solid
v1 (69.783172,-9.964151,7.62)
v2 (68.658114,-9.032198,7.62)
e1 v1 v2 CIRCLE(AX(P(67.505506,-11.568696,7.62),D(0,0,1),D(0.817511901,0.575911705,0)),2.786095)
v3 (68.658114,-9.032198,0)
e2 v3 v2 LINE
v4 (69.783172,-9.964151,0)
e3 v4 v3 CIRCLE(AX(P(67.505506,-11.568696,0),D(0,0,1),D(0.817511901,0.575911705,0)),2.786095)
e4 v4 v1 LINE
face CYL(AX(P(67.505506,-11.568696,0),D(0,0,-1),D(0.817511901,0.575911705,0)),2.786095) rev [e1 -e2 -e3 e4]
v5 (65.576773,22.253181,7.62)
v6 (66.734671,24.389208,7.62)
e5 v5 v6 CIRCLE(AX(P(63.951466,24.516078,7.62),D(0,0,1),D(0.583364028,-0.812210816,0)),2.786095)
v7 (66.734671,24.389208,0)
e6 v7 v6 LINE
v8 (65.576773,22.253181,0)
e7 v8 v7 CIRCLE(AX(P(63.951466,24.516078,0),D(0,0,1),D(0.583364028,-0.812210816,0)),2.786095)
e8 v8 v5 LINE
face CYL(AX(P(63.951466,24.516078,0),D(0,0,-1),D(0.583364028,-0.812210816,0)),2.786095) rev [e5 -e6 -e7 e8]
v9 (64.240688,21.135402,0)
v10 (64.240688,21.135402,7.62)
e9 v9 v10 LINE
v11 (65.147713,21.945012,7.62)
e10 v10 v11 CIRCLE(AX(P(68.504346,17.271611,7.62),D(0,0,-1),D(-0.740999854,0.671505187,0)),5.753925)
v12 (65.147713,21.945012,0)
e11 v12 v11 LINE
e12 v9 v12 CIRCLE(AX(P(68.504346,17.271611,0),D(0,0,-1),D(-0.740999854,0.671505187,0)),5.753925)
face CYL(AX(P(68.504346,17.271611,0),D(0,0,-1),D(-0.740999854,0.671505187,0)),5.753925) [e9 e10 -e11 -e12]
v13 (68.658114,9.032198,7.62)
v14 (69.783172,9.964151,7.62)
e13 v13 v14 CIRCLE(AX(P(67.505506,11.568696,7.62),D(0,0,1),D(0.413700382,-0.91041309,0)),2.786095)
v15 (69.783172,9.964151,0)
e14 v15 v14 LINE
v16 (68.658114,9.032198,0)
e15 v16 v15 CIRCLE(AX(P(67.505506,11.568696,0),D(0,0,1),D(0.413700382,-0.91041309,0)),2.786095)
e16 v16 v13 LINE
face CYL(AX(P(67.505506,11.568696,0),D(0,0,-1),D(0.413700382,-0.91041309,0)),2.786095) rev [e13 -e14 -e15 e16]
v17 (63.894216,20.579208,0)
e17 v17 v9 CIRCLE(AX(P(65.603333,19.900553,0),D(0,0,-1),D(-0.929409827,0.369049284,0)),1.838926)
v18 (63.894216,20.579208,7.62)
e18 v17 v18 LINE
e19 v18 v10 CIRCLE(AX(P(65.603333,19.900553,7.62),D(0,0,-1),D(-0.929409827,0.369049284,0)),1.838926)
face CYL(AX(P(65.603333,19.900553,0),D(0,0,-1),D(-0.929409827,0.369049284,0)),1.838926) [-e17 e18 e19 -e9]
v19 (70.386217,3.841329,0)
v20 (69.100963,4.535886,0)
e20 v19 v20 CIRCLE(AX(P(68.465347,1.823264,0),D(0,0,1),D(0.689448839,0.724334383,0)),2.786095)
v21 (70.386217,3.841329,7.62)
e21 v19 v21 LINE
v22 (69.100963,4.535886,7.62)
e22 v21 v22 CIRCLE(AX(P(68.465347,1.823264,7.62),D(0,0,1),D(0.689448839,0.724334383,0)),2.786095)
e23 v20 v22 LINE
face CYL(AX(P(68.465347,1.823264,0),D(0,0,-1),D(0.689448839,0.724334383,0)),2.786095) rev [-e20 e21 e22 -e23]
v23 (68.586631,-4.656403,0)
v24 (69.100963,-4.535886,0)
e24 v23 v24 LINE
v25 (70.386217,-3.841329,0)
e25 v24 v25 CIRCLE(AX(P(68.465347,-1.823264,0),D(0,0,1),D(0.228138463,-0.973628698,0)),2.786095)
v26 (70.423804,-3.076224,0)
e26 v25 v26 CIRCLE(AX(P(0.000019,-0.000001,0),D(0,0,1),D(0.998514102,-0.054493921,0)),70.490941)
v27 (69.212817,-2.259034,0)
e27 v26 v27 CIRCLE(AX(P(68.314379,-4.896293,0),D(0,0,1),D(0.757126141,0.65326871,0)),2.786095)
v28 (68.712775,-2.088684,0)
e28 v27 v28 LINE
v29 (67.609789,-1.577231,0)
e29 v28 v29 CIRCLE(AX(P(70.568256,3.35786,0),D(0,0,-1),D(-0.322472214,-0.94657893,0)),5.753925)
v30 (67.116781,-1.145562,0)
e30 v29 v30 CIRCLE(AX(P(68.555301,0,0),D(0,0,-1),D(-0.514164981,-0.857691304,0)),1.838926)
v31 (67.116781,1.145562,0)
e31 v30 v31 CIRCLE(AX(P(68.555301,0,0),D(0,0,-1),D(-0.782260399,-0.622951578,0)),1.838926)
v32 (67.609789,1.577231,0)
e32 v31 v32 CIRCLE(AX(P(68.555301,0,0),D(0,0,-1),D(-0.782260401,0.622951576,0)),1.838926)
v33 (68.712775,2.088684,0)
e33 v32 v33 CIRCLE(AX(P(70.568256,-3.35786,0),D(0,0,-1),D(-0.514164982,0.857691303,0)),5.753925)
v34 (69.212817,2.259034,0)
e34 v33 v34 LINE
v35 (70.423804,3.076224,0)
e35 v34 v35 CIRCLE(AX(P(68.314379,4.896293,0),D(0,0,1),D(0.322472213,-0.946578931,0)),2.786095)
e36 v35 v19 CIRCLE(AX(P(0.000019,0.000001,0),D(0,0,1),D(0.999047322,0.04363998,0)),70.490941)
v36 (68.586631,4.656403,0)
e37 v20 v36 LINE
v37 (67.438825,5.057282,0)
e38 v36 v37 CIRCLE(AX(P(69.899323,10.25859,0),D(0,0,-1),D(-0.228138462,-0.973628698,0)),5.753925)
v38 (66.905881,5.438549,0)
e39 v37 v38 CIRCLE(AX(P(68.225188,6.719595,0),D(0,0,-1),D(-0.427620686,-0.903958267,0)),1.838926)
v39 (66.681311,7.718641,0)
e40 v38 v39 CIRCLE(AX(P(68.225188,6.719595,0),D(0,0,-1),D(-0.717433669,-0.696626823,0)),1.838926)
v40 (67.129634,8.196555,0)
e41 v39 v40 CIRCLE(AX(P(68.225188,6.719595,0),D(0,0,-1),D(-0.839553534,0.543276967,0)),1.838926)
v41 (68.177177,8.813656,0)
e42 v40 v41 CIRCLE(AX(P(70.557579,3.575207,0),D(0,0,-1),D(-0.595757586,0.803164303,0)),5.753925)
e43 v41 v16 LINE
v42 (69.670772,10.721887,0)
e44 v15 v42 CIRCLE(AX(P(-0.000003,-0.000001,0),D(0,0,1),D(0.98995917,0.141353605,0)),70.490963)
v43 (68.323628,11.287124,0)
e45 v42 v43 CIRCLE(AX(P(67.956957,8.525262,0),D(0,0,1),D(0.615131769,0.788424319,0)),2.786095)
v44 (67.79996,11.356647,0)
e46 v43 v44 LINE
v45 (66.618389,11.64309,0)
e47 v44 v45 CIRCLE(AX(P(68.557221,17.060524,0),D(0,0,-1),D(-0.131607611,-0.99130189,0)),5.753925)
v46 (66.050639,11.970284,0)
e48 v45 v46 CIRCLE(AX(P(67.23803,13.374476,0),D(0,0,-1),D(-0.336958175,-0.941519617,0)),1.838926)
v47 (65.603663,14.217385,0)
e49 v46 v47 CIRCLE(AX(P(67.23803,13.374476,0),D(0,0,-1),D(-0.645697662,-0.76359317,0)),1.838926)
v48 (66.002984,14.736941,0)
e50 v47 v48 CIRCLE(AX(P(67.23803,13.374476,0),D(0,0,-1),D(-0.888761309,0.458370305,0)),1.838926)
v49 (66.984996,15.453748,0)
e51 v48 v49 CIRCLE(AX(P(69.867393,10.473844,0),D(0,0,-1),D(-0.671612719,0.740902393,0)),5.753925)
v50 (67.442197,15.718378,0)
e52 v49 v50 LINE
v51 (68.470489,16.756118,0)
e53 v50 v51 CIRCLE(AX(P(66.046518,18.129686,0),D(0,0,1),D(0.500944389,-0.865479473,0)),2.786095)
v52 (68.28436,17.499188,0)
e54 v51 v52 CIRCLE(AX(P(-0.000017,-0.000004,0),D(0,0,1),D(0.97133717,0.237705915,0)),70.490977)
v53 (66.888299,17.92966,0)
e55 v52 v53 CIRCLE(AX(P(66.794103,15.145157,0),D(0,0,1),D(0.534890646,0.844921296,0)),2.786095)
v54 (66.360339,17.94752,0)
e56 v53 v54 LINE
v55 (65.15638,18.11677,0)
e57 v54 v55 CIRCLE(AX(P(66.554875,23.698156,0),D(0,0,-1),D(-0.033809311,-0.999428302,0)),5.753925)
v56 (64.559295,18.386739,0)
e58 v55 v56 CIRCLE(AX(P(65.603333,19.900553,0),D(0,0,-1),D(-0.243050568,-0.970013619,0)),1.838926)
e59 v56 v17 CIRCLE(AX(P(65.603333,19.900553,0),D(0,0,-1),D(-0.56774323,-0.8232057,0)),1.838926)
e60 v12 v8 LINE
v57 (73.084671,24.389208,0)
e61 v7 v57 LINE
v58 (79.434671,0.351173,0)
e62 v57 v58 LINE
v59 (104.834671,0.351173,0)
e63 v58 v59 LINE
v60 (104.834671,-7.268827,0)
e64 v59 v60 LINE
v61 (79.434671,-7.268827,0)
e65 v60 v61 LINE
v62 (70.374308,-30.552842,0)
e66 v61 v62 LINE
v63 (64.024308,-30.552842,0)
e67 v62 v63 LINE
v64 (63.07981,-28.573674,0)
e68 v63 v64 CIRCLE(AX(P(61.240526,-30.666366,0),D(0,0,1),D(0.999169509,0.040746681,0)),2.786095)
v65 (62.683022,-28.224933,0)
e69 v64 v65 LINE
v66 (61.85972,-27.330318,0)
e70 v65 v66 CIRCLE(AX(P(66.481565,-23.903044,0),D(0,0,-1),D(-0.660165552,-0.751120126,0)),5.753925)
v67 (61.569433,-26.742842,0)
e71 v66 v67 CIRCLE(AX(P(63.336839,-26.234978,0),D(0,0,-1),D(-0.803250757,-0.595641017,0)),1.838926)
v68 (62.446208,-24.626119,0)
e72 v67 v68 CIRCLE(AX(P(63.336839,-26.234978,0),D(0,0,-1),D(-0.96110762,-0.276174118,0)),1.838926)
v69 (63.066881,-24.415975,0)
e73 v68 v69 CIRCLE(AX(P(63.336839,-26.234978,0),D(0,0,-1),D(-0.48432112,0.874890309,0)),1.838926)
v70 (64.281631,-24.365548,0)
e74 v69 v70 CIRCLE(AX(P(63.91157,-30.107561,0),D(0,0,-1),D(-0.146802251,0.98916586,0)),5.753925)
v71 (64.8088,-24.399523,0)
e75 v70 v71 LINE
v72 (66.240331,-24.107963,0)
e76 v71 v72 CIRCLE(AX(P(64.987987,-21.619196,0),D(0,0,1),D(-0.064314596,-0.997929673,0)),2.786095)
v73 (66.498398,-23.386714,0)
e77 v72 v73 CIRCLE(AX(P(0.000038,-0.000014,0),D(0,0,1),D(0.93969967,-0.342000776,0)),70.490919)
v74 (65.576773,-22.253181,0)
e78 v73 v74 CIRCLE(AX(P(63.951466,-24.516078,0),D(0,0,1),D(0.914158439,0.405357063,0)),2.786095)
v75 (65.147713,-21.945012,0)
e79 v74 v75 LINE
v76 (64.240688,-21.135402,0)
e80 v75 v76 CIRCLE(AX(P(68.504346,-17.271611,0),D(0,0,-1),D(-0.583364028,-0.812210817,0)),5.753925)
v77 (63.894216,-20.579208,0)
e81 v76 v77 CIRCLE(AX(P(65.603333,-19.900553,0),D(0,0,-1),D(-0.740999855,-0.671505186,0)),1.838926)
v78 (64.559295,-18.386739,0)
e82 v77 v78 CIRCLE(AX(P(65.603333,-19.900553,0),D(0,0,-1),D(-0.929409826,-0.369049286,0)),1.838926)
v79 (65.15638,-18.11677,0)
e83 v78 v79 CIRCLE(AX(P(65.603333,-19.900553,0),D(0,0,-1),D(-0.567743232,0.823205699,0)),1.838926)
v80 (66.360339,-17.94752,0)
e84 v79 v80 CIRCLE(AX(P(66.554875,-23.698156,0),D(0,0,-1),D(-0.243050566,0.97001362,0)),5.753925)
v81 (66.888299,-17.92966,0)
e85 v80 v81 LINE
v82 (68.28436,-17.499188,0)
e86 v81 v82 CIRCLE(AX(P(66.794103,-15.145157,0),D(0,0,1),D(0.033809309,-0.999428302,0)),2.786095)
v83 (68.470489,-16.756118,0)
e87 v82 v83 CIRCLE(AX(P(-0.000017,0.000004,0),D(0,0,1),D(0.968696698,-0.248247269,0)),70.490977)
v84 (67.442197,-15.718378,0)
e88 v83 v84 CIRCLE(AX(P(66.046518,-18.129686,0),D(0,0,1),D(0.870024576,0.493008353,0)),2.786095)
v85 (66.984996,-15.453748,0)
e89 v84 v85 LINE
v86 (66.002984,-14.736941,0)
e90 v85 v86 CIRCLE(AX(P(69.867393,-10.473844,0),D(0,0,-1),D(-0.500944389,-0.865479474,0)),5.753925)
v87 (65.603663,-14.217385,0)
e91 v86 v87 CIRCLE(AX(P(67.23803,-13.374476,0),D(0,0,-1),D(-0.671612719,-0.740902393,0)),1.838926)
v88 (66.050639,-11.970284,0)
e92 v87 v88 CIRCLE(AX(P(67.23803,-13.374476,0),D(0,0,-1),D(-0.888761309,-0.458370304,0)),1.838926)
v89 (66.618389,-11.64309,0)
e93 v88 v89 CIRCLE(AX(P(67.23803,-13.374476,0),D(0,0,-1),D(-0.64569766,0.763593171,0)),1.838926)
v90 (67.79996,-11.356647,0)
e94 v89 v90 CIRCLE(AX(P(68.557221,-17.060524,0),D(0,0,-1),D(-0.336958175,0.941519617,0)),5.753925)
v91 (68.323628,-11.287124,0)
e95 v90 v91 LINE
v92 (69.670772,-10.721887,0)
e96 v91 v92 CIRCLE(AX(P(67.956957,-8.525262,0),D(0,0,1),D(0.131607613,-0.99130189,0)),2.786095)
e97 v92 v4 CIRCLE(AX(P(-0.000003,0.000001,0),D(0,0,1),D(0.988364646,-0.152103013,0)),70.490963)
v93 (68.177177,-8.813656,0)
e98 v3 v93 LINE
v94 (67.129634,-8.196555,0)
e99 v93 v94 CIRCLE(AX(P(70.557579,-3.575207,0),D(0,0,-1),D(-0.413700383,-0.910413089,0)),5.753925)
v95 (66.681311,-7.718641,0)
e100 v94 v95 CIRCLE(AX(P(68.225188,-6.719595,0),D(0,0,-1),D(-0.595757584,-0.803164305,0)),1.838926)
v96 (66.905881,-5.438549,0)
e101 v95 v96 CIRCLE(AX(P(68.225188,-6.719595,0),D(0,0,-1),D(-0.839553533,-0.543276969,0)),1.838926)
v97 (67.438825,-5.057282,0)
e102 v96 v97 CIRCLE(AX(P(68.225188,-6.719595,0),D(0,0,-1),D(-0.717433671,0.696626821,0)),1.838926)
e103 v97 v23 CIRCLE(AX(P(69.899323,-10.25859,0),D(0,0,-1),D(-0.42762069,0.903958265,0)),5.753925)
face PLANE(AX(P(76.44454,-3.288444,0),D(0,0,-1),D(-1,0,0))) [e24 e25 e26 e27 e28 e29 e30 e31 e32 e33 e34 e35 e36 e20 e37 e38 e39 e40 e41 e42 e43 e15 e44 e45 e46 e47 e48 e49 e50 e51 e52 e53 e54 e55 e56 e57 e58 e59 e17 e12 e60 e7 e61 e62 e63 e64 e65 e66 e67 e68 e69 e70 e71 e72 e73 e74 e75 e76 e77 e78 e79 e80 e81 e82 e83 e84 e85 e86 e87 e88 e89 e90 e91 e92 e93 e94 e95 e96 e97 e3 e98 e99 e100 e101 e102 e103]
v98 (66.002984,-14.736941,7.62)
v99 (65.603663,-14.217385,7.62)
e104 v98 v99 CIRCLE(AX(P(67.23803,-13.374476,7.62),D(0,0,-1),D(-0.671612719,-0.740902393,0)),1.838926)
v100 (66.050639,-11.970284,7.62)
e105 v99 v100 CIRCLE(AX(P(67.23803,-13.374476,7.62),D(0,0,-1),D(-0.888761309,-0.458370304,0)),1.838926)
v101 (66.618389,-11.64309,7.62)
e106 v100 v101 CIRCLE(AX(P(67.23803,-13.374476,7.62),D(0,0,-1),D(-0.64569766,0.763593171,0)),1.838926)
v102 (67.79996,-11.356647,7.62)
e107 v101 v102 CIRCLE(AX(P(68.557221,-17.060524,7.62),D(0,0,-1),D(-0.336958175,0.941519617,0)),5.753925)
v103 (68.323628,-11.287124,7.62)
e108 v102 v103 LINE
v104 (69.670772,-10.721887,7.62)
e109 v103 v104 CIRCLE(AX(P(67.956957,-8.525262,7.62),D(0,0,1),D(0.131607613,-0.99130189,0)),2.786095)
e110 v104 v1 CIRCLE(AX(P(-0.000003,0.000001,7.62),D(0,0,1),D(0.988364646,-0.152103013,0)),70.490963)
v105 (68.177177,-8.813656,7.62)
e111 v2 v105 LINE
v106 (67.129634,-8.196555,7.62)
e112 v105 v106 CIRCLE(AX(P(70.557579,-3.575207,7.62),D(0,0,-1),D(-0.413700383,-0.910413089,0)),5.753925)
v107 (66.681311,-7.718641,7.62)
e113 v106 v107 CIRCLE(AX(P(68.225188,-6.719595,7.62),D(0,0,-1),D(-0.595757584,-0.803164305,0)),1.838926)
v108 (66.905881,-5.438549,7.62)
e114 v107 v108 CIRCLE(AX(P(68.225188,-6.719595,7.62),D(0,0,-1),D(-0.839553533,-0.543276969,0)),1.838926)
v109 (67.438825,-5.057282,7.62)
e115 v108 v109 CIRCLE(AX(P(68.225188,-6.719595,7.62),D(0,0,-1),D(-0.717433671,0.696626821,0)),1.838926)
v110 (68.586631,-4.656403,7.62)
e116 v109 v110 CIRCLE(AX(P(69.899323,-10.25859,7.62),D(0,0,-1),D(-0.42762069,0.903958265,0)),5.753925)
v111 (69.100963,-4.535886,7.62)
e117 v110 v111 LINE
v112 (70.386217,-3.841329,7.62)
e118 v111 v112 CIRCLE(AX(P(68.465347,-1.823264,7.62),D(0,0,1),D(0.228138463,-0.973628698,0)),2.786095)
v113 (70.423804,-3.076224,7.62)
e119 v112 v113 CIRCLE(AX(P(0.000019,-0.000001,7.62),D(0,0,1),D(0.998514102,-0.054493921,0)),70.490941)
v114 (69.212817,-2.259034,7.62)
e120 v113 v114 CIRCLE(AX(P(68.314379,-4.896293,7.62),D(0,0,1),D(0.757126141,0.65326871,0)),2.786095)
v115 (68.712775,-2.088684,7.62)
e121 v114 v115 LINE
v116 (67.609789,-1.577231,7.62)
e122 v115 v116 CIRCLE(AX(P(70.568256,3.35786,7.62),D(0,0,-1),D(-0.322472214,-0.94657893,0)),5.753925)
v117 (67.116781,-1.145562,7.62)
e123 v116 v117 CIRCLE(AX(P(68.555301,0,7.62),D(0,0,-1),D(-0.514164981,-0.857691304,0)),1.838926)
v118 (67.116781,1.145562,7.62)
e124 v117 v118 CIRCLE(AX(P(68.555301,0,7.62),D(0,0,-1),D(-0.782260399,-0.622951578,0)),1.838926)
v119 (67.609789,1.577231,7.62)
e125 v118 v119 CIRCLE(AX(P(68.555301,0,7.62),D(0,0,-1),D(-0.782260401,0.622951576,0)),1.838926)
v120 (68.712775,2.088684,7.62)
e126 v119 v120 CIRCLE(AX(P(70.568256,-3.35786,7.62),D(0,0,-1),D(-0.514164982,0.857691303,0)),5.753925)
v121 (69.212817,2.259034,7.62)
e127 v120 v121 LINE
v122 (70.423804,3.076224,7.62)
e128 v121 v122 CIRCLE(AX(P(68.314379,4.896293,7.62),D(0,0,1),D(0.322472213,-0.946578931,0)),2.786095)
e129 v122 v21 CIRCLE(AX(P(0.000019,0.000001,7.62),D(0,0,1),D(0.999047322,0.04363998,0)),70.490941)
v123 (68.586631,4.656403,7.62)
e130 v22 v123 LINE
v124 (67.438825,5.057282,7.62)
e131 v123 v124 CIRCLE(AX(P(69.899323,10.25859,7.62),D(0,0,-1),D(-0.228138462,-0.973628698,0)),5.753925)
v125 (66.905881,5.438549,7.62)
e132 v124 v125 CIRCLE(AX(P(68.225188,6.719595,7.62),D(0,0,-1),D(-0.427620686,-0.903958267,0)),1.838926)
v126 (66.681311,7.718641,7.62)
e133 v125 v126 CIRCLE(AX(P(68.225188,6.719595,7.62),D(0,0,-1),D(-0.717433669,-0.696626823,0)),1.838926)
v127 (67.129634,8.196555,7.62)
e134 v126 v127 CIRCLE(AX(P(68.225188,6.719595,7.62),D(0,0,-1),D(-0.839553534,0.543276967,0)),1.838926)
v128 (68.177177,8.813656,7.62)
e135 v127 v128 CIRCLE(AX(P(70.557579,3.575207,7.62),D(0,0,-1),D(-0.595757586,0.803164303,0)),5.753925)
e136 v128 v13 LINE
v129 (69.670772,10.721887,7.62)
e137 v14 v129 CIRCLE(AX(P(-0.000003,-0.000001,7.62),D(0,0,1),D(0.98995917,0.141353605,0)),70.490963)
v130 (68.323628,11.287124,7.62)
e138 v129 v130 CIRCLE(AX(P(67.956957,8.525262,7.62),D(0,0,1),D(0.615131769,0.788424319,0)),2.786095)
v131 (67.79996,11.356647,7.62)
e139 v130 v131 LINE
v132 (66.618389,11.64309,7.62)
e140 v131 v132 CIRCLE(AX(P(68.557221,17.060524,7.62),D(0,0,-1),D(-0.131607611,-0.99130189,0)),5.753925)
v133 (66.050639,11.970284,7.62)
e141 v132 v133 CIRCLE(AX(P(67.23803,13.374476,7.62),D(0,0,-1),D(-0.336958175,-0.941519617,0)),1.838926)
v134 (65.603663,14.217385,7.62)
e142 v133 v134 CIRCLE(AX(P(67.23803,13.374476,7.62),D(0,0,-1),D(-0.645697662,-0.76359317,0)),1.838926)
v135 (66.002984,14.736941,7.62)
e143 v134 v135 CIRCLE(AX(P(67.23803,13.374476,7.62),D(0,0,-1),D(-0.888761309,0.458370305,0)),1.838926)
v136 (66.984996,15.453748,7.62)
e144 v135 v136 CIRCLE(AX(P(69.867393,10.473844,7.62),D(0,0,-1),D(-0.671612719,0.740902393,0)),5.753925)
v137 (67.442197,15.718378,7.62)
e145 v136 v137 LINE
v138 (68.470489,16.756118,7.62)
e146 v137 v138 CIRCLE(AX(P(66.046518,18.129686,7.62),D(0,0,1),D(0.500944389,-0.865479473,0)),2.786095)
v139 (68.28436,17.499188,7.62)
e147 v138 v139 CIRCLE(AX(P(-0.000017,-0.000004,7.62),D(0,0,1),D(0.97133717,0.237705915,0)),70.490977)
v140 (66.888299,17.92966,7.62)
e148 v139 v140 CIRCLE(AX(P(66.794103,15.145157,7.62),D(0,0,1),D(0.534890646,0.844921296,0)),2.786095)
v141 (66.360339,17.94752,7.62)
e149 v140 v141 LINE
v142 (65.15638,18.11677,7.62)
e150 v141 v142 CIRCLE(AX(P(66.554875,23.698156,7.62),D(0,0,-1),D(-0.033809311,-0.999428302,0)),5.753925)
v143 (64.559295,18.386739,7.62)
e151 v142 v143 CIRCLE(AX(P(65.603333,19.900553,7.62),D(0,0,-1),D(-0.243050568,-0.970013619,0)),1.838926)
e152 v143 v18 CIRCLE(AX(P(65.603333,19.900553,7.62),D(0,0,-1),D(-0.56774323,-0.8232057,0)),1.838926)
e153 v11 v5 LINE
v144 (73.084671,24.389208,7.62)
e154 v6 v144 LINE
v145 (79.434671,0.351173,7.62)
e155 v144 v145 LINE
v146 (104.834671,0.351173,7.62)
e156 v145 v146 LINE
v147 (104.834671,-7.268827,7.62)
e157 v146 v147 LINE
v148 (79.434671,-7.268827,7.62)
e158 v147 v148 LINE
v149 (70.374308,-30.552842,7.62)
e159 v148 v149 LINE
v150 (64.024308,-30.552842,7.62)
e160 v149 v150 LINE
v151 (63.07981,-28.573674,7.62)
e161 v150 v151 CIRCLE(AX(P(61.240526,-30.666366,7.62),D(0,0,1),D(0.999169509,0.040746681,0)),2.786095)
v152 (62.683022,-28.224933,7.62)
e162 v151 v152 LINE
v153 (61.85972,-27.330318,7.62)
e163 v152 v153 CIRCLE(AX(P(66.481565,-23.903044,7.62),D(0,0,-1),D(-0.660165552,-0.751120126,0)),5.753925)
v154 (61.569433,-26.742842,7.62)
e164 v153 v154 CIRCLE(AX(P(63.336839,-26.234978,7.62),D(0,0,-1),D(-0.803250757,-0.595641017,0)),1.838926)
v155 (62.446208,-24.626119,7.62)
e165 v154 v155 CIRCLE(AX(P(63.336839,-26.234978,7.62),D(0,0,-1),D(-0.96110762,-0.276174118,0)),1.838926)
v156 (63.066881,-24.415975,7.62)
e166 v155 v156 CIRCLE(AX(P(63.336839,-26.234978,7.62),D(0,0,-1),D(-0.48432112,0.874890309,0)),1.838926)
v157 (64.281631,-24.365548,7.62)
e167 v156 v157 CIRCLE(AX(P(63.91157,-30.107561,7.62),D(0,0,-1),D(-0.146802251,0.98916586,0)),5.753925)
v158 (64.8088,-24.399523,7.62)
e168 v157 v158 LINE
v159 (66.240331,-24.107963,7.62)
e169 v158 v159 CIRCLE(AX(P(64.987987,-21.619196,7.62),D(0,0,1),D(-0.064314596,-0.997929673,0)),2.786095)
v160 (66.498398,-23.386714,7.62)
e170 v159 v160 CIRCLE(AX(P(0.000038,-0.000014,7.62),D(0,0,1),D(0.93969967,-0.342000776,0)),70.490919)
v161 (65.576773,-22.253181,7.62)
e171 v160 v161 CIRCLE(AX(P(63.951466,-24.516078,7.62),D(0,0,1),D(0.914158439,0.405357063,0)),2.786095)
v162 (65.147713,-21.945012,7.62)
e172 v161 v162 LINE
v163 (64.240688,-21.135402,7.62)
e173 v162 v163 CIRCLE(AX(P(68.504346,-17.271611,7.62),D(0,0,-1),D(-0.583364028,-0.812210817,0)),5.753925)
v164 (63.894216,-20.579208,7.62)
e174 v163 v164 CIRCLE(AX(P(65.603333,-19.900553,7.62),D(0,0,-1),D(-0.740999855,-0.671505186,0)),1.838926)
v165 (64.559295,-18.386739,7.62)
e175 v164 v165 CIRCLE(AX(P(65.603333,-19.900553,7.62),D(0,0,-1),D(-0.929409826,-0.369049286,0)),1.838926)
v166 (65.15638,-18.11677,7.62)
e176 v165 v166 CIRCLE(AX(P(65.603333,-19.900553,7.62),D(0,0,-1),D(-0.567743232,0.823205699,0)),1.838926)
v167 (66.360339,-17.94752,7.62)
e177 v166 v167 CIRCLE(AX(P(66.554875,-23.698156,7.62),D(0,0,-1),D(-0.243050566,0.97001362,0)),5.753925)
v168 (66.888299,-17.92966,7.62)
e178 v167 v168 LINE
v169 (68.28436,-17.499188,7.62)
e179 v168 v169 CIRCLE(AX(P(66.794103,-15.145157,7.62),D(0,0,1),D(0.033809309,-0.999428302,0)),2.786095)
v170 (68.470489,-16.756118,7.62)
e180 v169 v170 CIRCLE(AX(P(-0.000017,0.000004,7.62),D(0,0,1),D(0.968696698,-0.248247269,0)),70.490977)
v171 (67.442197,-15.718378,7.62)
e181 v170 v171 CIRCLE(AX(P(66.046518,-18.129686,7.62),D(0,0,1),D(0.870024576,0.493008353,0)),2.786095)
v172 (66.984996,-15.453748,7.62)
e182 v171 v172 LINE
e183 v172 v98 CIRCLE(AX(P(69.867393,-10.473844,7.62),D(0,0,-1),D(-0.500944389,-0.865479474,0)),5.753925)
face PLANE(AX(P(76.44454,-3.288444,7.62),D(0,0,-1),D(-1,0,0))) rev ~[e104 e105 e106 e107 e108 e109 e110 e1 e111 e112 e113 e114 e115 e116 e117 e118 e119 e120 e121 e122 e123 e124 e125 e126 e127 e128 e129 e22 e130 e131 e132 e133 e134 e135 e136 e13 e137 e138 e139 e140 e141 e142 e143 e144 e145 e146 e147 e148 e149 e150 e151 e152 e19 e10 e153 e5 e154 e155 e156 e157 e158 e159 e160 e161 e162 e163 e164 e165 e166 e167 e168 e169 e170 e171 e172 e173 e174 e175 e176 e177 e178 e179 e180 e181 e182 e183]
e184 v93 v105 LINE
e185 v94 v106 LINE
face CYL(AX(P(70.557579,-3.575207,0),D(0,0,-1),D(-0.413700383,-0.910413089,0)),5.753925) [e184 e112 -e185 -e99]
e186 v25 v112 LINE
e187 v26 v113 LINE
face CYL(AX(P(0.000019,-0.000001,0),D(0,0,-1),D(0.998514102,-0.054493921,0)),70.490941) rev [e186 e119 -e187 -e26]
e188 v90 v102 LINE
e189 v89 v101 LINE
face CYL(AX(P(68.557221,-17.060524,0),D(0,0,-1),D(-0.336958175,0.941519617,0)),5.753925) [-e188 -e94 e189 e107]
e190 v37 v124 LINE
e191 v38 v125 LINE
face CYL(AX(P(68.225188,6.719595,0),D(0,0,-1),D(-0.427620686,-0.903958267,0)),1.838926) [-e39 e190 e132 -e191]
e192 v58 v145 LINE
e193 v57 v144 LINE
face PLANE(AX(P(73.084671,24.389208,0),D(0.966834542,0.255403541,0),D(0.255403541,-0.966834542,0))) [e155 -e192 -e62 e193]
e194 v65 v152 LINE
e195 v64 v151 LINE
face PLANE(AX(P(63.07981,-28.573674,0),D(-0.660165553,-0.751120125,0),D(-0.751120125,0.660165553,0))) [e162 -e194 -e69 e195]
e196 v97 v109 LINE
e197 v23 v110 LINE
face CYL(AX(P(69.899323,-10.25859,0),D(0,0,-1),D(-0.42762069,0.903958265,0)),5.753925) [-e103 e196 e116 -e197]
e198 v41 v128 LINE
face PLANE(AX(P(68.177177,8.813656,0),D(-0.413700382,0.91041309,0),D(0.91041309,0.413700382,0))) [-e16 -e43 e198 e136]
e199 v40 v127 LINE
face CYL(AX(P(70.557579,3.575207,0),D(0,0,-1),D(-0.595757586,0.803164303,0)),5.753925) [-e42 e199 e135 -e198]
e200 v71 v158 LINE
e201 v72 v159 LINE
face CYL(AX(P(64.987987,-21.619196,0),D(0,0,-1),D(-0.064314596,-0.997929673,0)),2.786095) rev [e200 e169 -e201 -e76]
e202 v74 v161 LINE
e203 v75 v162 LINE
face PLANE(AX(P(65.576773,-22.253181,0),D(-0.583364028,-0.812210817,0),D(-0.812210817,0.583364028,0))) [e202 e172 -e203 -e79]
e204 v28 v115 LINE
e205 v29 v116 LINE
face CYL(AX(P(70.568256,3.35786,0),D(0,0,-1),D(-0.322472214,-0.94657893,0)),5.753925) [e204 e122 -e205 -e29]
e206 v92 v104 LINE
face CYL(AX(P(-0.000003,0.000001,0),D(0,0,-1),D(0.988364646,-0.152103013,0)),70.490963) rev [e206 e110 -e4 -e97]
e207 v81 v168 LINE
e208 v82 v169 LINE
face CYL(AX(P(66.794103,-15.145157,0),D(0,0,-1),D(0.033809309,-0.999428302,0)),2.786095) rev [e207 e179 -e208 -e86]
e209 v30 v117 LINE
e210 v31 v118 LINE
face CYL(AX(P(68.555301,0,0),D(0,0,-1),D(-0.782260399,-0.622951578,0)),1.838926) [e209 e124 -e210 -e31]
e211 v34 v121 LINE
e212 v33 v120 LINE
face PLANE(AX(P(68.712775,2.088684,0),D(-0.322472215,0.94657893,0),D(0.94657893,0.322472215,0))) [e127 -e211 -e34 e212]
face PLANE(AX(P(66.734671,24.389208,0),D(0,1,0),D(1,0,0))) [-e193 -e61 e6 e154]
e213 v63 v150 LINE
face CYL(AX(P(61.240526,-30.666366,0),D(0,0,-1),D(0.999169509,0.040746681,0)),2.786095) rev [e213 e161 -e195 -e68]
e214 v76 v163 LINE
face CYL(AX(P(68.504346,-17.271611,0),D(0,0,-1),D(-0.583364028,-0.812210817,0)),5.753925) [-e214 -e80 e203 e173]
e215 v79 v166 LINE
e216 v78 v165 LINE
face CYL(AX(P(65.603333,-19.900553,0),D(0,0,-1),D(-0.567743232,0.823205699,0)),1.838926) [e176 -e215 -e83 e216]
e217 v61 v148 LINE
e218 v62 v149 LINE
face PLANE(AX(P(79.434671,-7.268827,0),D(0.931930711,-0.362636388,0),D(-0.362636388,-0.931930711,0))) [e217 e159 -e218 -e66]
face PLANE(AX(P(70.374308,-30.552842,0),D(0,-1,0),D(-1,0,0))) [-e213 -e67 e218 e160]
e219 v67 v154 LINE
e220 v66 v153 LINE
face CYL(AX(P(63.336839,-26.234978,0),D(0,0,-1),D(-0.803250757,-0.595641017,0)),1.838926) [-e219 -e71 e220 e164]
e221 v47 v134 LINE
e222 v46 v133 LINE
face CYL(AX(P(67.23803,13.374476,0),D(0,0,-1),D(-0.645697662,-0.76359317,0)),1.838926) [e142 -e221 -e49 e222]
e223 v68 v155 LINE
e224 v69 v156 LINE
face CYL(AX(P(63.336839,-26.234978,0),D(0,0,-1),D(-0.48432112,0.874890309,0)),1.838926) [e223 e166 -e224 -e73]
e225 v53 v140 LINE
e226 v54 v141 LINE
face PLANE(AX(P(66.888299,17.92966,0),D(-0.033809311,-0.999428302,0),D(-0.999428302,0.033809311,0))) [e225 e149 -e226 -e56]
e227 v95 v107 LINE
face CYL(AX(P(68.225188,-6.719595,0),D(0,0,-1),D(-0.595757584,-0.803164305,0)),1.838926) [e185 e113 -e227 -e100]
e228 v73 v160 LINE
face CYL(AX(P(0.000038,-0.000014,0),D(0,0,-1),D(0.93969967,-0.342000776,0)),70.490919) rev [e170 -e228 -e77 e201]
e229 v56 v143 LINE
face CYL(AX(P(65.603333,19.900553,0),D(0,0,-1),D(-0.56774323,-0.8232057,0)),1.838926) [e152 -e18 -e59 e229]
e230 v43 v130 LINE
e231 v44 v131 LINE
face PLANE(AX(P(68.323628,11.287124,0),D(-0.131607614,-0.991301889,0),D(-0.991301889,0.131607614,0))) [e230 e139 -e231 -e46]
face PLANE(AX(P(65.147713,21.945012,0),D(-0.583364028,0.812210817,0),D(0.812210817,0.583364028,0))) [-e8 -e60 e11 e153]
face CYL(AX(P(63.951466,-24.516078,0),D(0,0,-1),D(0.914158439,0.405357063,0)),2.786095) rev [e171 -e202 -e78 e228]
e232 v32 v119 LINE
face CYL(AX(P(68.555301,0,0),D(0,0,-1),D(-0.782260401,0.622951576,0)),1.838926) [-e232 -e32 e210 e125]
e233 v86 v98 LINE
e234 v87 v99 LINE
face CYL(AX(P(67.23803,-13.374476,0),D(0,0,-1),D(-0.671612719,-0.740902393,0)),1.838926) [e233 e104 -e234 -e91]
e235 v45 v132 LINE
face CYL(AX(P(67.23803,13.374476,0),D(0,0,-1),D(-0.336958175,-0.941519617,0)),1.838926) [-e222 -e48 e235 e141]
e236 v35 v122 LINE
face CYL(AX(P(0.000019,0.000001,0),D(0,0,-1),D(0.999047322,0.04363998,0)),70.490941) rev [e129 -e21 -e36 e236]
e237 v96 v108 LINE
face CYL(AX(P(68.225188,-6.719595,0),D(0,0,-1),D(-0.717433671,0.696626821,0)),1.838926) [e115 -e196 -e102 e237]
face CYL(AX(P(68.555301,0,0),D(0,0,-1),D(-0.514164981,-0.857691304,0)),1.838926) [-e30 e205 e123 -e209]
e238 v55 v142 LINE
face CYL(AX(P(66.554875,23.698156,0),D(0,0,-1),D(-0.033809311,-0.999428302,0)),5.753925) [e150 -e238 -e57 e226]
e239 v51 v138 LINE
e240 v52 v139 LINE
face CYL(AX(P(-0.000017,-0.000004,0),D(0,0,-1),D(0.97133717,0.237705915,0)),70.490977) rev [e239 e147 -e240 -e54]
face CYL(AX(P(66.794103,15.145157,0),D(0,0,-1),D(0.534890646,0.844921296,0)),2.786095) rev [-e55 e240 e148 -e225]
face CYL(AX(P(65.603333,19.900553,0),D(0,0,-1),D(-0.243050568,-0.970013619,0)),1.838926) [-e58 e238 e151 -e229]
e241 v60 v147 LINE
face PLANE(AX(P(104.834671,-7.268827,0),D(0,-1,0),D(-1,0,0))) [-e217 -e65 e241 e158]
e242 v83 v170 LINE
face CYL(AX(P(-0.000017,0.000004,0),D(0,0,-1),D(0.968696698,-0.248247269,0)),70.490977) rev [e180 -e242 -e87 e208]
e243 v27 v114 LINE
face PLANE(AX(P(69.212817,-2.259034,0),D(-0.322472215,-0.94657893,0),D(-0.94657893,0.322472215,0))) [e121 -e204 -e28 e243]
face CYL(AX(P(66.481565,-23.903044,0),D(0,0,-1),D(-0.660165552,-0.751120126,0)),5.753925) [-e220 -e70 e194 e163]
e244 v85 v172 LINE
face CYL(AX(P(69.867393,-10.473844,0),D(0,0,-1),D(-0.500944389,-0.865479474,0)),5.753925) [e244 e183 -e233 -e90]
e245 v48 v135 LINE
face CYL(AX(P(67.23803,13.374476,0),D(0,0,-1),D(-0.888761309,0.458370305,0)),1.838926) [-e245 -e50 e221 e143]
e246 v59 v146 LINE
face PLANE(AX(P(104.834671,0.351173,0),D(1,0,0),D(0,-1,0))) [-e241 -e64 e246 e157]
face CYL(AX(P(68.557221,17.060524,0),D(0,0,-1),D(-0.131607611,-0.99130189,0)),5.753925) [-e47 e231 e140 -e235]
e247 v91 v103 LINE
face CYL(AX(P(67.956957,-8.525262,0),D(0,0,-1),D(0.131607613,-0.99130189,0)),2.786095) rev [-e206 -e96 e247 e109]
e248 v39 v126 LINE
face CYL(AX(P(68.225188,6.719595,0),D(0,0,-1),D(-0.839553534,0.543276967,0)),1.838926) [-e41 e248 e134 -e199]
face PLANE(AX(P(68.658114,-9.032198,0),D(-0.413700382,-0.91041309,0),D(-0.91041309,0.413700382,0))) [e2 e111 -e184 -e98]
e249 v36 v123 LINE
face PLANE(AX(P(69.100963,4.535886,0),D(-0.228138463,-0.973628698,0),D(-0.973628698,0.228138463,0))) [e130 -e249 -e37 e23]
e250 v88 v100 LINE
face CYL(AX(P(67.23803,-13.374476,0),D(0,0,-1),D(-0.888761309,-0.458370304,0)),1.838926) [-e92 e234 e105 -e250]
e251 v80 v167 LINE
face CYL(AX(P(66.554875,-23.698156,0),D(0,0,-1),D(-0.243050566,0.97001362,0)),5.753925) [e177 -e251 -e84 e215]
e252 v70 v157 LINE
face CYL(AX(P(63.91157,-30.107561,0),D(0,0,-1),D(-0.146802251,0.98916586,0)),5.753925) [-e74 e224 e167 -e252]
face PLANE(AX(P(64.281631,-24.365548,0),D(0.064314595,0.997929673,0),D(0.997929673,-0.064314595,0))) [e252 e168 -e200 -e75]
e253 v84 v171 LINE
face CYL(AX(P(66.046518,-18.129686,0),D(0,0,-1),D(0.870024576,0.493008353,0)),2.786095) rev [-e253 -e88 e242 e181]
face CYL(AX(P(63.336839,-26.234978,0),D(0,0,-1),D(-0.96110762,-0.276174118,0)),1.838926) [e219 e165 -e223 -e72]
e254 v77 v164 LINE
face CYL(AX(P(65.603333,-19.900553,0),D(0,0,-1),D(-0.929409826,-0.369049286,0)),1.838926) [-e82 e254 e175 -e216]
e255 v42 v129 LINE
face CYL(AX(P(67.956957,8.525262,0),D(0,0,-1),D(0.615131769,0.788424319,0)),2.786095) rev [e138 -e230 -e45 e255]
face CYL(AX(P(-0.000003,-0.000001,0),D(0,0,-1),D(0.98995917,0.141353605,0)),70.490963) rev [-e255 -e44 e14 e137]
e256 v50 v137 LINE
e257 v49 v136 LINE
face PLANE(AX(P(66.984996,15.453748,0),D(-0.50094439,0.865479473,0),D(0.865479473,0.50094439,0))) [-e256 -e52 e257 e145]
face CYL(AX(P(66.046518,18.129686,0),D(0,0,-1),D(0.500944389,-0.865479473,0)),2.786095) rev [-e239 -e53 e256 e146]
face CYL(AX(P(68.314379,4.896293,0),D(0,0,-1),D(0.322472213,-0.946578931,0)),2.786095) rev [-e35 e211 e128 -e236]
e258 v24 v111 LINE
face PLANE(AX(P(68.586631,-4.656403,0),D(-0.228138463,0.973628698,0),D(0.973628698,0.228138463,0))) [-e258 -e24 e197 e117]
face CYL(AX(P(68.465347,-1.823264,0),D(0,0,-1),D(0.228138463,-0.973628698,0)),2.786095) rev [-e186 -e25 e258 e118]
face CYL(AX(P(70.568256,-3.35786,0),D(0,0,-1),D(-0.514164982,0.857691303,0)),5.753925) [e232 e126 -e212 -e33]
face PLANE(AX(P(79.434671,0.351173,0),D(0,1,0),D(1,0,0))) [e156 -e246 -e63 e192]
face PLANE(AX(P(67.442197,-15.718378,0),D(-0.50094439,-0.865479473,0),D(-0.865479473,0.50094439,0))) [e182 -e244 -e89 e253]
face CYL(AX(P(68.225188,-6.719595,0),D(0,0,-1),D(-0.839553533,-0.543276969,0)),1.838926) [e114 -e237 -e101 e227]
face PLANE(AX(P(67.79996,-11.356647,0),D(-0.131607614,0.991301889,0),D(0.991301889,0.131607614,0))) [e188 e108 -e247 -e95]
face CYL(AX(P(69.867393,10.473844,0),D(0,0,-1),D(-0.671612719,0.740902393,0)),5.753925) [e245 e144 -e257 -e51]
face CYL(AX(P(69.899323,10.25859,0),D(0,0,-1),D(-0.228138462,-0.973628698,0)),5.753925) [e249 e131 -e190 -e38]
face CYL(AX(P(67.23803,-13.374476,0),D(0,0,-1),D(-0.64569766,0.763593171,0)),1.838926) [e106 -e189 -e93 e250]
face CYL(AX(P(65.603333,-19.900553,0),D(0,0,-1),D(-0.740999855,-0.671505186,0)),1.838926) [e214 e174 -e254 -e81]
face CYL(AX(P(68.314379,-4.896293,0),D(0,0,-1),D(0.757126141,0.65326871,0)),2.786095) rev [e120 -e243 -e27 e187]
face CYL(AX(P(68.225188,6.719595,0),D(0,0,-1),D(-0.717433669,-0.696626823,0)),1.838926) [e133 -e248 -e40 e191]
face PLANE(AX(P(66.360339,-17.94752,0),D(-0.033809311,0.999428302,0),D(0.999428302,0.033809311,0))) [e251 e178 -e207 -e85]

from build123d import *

# Parameters (mm, degrees)
BOSS_EXTRUDE1_DEPTH = 7.62


with BuildPart() as part:
    # Sketch1 → Boss-Extrude1 (new body)
    with BuildSketch(Plane.XY):
        with BuildLine():
            Line((73.084670889, 24.389207851), (79.434670889, 0.351172556))
            Line((79.434670889, 0.351172556), (104.834670889, 0.351172556))
            Line((104.834670889, 0.351172556), (104.834670889, -7.268827444))
            Line((104.834670889, -7.268827444), (79.434670889, -7.268827444))
            Line((79.434670889, -7.268827444), (70.374307571, -30.552841702))
            Line((70.374307571, -30.552841702), (64.024307571, -30.552841702))
            ThreePointArc((64.024307571, -30.552841702), (63.754976443, -29.466421477), (63.079810248, -28.573673602))
            Line((63.079810248, -28.573673602), (62.683021764, -28.224932994))
            ThreePointArc((62.683021764, -28.224932994), (62.247675801, -27.79943175), (61.859720198, -27.330317834))
            ThreePointArc((61.859720198, -27.330317834), (61.688197961, -27.049614145), (61.569433036, -26.742841702))
            ThreePointArc((61.569433036, -26.742841702), (61.63789275, -25.531251133), (62.446208329, -24.626118898))
            ThreePointArc((62.446208329, -24.626118898), (62.747108688, -24.493177507), (63.066880707, -24.415974562))
            ThreePointArc((63.066880707, -24.415974562), (63.672920376, -24.358586969), (64.281631273, -24.365548236))
            Line((64.281631273, -24.365548236), (64.80879995, -24.399523215))
            ThreePointArc((64.80879995, -24.399523215), (65.544016286, -24.349243284), (66.240331439, -24.107962657))
            ThreePointArc((66.240331439, -24.107962657), (66.370344576, -23.747689015), (66.498398241, -23.386714262))
            ThreePointArc((66.498398241, -23.386714262), (66.113206158, -22.758464159), (65.576773496, -22.253180941))
            Line((65.576773496, -22.253180941), (65.147713099, -21.945011687))
            ThreePointArc((65.147713099, -21.945011687), (64.672757031, -21.564230714), (64.240688336, -21.135402009))
            ThreePointArc((64.240688336, -21.135402009), (64.042478252, -20.872862103), (63.894216256, -20.579207851))
            ThreePointArc((63.894216256, -20.579207851), (63.843589674, -19.366741197), (64.55929452, -18.38673864))
            ThreePointArc((64.55929452, -18.38673864), (64.845715425, -18.224944005), (65.156380444, -18.116769674))
            ThreePointArc((65.156380444, -18.116769674), (65.753876898, -18.000256143), (66.360339009, -17.947519788))
            Line((66.360339009, -17.947519788), (66.888299355, -17.929659602))
            ThreePointArc((66.888299355, -17.929659602), (67.615047129, -17.80755798), (68.284359697, -17.499188365))
            ThreePointArc((68.284359697, -17.499188365), (68.378433792, -17.127906023), (68.470489131, -16.756118009))
            ThreePointArc((68.470489131, -16.756118009), (68.025572575, -16.168648528), (67.442196566, -15.718377982))
            Line((67.442196566, -15.718377982), (66.984996344, -15.45374792))
            ThreePointArc((66.984996344, -15.45374792), (66.475004257, -15.121354347), (66.002983527, -14.736940707))
            ThreePointArc((66.002983527, -14.736940707), (65.779994468, -14.495092989), (65.603663244, -14.21738498))
            ThreePointArc((65.603663244, -14.21738498), (65.43443793, -13.015718957), (66.050639412, -11.970284037))
            ThreePointArc((66.050639412, -11.970284037), (66.319822476, -11.781194329), (66.618388618, -11.643090391))
            ThreePointArc((66.618388618, -11.643090391), (67.20158764, -11.46857301), (67.799960404, -11.356646914))
            Line((67.799960404, -11.356646914), (68.323627873, -11.287123566))
            ThreePointArc((68.323627873, -11.287123566), (69.034908105, -11.094376158), (69.670772242, -10.721887324))
            ThreePointArc((69.670772242, -10.721887324), (69.728001312, -10.343171934), (69.783171782, -9.964151179))
            ThreePointArc((69.783171782, -9.964151179), (69.282815542, -9.423119973), (68.658114417, -9.032198451))
            Line((68.658114417, -9.032198451), (68.177177456, -8.813656114))
            ThreePointArc((68.177177456, -8.813656114), (67.637060853, -8.532851072), (67.129633907, -8.196554611))
            ThreePointArc((67.129633907, -8.196554611), (66.884013379, -7.977728206), (66.681311093, -7.718640919))
            ThreePointArc((66.681311093, -7.718640919), (66.395116777, -6.539348227), (66.90588054, -5.438549056))
            ThreePointArc((66.90588054, -5.438549056), (67.155233381, -5.223985312), (67.438825293, -5.057281783))
            ThreePointArc((67.438825293, -5.057281783), (68.002110358, -4.82644125), (68.586631118, -4.656403321))
            Line((68.586631118, -4.656403321), (69.100962504, -4.53588636))
            ThreePointArc((69.100962504, -4.53588636), (69.789925178, -4.274349429), (70.386217165, -3.841328646))
            ThreePointArc((70.386217165, -3.841328646), (70.406050062, -3.458827444), (70.42380434, -3.076224127))
            ThreePointArc((70.42380434, -3.076224127), (69.872827121, -2.586841621), (69.212817092, -2.259033911))
            Line((69.212817092, -2.259033911), (68.71277508, -2.08868398))
            ThreePointArc((68.71277508, -2.08868398), (68.147735579, -1.862171777), (67.609789215, -1.577231214))
            ThreePointArc((67.609789215, -1.577231214), (67.343902678, -1.383533539), (67.116781464, -1.145562126))
            ThreePointArc((67.116781464, -1.145562126), (66.716374355, 0), (67.116781464, 1.145562126))
            ThreePointArc((67.116781464, 1.145562126), (67.343902678, 1.383533539), (67.609789215, 1.577231214))
            ThreePointArc((67.609789215, 1.577231214), (68.147735579, 1.862171777), (68.71277508, 2.08868398))
            Line((68.71277508, 2.08868398), (69.212817092, 2.259033911))
            ThreePointArc((69.212817092, 2.259033911), (69.872827121, 2.586841621), (70.42380434, 3.076224127))
            ThreePointArc((70.42380434, 3.076224127), (70.406050062, 3.458827444), (70.386217165, 3.841328646))
            ThreePointArc((70.386217165, 3.841328646), (69.789925178, 4.274349429), (69.100962504, 4.53588636))
            Line((69.100962504, 4.53588636), (68.586631118, 4.656403321))
            ThreePointArc((68.586631118, 4.656403321), (68.002110358, 4.82644125), (67.438825293, 5.057281783))
            ThreePointArc((67.438825293, 5.057281783), (67.155233381, 5.223985312), (66.90588054, 5.438549056))
            ThreePointArc((66.90588054, 5.438549056), (66.395116777, 6.539348227), (66.681311093, 7.718640919))
            ThreePointArc((66.681311093, 7.718640919), (66.884013379, 7.977728206), (67.129633907, 8.196554611))
            ThreePointArc((67.129633907, 8.196554611), (67.637060853, 8.532851072), (68.177177456, 8.813656114))
            Line((68.177177456, 8.813656114), (68.658114417, 9.032198451))
            ThreePointArc((68.658114417, 9.032198451), (69.282815542, 9.423119973), (69.783171782, 9.964151179))
            ThreePointArc((69.783171782, 9.964151179), (69.728001312, 10.343171934), (69.670772242, 10.721887324))
            ThreePointArc((69.670772242, 10.721887324), (69.034908105, 11.094376158), (68.323627873, 11.287123566))
            Line((68.323627873, 11.287123566), (67.799960404, 11.356646914))
            ThreePointArc((67.799960404, 11.356646914), (67.20158764, 11.46857301), (66.618388618, 11.643090391))
            ThreePointArc((66.618388618, 11.643090391), (66.319822476, 11.781194329), (66.050639412, 11.970284037))
            ThreePointArc((66.050639412, 11.970284037), (65.43443793, 13.015718957), (65.603663244, 14.21738498))
            ThreePointArc((65.603663244, 14.21738498), (65.779994468, 14.495092989), (66.002983527, 14.736940707))
            ThreePointArc((66.002983527, 14.736940707), (66.475004257, 15.121354347), (66.984996344, 15.45374792))
            Line((66.984996344, 15.45374792), (67.442196566, 15.718377982))
            ThreePointArc((67.442196566, 15.718377982), (68.025572575, 16.168648528), (68.470489131, 16.756118009))
            ThreePointArc((68.470489131, 16.756118009), (68.378433792, 17.127906023), (68.284359697, 17.499188365))
            ThreePointArc((68.284359697, 17.499188365), (67.615047129, 17.80755798), (66.888299355, 17.929659602))
            Line((66.888299355, 17.929659602), (66.360339009, 17.947519788))
            ThreePointArc((66.360339009, 17.947519788), (65.753876898, 18.000256143), (65.156380444, 18.116769674))
            ThreePointArc((65.156380444, 18.116769674), (64.845715425, 18.224944005), (64.55929452, 18.38673864))
            ThreePointArc((64.55929452, 18.38673864), (63.843589674, 19.366741197), (63.894216256, 20.579207851))
            ThreePointArc((63.894216256, 20.579207851), (64.042478252, 20.872862103), (64.240688336, 21.135402009))
            ThreePointArc((64.240688336, 21.135402009), (64.672757031, 21.564230714), (65.147713099, 21.945011687))
            Line((65.147713099, 21.945011687), (65.576773496, 22.253180941))
            ThreePointArc((65.576773496, 22.253180941), (66.400832851, 23.188324819), (66.734670889, 24.389207851))
            Line((66.734670889, 24.389207851), (73.084670889, 24.389207851))
        make_face()
    extrude(amount=BOSS_EXTRUDE1_DEPTH)


solid = part.part
